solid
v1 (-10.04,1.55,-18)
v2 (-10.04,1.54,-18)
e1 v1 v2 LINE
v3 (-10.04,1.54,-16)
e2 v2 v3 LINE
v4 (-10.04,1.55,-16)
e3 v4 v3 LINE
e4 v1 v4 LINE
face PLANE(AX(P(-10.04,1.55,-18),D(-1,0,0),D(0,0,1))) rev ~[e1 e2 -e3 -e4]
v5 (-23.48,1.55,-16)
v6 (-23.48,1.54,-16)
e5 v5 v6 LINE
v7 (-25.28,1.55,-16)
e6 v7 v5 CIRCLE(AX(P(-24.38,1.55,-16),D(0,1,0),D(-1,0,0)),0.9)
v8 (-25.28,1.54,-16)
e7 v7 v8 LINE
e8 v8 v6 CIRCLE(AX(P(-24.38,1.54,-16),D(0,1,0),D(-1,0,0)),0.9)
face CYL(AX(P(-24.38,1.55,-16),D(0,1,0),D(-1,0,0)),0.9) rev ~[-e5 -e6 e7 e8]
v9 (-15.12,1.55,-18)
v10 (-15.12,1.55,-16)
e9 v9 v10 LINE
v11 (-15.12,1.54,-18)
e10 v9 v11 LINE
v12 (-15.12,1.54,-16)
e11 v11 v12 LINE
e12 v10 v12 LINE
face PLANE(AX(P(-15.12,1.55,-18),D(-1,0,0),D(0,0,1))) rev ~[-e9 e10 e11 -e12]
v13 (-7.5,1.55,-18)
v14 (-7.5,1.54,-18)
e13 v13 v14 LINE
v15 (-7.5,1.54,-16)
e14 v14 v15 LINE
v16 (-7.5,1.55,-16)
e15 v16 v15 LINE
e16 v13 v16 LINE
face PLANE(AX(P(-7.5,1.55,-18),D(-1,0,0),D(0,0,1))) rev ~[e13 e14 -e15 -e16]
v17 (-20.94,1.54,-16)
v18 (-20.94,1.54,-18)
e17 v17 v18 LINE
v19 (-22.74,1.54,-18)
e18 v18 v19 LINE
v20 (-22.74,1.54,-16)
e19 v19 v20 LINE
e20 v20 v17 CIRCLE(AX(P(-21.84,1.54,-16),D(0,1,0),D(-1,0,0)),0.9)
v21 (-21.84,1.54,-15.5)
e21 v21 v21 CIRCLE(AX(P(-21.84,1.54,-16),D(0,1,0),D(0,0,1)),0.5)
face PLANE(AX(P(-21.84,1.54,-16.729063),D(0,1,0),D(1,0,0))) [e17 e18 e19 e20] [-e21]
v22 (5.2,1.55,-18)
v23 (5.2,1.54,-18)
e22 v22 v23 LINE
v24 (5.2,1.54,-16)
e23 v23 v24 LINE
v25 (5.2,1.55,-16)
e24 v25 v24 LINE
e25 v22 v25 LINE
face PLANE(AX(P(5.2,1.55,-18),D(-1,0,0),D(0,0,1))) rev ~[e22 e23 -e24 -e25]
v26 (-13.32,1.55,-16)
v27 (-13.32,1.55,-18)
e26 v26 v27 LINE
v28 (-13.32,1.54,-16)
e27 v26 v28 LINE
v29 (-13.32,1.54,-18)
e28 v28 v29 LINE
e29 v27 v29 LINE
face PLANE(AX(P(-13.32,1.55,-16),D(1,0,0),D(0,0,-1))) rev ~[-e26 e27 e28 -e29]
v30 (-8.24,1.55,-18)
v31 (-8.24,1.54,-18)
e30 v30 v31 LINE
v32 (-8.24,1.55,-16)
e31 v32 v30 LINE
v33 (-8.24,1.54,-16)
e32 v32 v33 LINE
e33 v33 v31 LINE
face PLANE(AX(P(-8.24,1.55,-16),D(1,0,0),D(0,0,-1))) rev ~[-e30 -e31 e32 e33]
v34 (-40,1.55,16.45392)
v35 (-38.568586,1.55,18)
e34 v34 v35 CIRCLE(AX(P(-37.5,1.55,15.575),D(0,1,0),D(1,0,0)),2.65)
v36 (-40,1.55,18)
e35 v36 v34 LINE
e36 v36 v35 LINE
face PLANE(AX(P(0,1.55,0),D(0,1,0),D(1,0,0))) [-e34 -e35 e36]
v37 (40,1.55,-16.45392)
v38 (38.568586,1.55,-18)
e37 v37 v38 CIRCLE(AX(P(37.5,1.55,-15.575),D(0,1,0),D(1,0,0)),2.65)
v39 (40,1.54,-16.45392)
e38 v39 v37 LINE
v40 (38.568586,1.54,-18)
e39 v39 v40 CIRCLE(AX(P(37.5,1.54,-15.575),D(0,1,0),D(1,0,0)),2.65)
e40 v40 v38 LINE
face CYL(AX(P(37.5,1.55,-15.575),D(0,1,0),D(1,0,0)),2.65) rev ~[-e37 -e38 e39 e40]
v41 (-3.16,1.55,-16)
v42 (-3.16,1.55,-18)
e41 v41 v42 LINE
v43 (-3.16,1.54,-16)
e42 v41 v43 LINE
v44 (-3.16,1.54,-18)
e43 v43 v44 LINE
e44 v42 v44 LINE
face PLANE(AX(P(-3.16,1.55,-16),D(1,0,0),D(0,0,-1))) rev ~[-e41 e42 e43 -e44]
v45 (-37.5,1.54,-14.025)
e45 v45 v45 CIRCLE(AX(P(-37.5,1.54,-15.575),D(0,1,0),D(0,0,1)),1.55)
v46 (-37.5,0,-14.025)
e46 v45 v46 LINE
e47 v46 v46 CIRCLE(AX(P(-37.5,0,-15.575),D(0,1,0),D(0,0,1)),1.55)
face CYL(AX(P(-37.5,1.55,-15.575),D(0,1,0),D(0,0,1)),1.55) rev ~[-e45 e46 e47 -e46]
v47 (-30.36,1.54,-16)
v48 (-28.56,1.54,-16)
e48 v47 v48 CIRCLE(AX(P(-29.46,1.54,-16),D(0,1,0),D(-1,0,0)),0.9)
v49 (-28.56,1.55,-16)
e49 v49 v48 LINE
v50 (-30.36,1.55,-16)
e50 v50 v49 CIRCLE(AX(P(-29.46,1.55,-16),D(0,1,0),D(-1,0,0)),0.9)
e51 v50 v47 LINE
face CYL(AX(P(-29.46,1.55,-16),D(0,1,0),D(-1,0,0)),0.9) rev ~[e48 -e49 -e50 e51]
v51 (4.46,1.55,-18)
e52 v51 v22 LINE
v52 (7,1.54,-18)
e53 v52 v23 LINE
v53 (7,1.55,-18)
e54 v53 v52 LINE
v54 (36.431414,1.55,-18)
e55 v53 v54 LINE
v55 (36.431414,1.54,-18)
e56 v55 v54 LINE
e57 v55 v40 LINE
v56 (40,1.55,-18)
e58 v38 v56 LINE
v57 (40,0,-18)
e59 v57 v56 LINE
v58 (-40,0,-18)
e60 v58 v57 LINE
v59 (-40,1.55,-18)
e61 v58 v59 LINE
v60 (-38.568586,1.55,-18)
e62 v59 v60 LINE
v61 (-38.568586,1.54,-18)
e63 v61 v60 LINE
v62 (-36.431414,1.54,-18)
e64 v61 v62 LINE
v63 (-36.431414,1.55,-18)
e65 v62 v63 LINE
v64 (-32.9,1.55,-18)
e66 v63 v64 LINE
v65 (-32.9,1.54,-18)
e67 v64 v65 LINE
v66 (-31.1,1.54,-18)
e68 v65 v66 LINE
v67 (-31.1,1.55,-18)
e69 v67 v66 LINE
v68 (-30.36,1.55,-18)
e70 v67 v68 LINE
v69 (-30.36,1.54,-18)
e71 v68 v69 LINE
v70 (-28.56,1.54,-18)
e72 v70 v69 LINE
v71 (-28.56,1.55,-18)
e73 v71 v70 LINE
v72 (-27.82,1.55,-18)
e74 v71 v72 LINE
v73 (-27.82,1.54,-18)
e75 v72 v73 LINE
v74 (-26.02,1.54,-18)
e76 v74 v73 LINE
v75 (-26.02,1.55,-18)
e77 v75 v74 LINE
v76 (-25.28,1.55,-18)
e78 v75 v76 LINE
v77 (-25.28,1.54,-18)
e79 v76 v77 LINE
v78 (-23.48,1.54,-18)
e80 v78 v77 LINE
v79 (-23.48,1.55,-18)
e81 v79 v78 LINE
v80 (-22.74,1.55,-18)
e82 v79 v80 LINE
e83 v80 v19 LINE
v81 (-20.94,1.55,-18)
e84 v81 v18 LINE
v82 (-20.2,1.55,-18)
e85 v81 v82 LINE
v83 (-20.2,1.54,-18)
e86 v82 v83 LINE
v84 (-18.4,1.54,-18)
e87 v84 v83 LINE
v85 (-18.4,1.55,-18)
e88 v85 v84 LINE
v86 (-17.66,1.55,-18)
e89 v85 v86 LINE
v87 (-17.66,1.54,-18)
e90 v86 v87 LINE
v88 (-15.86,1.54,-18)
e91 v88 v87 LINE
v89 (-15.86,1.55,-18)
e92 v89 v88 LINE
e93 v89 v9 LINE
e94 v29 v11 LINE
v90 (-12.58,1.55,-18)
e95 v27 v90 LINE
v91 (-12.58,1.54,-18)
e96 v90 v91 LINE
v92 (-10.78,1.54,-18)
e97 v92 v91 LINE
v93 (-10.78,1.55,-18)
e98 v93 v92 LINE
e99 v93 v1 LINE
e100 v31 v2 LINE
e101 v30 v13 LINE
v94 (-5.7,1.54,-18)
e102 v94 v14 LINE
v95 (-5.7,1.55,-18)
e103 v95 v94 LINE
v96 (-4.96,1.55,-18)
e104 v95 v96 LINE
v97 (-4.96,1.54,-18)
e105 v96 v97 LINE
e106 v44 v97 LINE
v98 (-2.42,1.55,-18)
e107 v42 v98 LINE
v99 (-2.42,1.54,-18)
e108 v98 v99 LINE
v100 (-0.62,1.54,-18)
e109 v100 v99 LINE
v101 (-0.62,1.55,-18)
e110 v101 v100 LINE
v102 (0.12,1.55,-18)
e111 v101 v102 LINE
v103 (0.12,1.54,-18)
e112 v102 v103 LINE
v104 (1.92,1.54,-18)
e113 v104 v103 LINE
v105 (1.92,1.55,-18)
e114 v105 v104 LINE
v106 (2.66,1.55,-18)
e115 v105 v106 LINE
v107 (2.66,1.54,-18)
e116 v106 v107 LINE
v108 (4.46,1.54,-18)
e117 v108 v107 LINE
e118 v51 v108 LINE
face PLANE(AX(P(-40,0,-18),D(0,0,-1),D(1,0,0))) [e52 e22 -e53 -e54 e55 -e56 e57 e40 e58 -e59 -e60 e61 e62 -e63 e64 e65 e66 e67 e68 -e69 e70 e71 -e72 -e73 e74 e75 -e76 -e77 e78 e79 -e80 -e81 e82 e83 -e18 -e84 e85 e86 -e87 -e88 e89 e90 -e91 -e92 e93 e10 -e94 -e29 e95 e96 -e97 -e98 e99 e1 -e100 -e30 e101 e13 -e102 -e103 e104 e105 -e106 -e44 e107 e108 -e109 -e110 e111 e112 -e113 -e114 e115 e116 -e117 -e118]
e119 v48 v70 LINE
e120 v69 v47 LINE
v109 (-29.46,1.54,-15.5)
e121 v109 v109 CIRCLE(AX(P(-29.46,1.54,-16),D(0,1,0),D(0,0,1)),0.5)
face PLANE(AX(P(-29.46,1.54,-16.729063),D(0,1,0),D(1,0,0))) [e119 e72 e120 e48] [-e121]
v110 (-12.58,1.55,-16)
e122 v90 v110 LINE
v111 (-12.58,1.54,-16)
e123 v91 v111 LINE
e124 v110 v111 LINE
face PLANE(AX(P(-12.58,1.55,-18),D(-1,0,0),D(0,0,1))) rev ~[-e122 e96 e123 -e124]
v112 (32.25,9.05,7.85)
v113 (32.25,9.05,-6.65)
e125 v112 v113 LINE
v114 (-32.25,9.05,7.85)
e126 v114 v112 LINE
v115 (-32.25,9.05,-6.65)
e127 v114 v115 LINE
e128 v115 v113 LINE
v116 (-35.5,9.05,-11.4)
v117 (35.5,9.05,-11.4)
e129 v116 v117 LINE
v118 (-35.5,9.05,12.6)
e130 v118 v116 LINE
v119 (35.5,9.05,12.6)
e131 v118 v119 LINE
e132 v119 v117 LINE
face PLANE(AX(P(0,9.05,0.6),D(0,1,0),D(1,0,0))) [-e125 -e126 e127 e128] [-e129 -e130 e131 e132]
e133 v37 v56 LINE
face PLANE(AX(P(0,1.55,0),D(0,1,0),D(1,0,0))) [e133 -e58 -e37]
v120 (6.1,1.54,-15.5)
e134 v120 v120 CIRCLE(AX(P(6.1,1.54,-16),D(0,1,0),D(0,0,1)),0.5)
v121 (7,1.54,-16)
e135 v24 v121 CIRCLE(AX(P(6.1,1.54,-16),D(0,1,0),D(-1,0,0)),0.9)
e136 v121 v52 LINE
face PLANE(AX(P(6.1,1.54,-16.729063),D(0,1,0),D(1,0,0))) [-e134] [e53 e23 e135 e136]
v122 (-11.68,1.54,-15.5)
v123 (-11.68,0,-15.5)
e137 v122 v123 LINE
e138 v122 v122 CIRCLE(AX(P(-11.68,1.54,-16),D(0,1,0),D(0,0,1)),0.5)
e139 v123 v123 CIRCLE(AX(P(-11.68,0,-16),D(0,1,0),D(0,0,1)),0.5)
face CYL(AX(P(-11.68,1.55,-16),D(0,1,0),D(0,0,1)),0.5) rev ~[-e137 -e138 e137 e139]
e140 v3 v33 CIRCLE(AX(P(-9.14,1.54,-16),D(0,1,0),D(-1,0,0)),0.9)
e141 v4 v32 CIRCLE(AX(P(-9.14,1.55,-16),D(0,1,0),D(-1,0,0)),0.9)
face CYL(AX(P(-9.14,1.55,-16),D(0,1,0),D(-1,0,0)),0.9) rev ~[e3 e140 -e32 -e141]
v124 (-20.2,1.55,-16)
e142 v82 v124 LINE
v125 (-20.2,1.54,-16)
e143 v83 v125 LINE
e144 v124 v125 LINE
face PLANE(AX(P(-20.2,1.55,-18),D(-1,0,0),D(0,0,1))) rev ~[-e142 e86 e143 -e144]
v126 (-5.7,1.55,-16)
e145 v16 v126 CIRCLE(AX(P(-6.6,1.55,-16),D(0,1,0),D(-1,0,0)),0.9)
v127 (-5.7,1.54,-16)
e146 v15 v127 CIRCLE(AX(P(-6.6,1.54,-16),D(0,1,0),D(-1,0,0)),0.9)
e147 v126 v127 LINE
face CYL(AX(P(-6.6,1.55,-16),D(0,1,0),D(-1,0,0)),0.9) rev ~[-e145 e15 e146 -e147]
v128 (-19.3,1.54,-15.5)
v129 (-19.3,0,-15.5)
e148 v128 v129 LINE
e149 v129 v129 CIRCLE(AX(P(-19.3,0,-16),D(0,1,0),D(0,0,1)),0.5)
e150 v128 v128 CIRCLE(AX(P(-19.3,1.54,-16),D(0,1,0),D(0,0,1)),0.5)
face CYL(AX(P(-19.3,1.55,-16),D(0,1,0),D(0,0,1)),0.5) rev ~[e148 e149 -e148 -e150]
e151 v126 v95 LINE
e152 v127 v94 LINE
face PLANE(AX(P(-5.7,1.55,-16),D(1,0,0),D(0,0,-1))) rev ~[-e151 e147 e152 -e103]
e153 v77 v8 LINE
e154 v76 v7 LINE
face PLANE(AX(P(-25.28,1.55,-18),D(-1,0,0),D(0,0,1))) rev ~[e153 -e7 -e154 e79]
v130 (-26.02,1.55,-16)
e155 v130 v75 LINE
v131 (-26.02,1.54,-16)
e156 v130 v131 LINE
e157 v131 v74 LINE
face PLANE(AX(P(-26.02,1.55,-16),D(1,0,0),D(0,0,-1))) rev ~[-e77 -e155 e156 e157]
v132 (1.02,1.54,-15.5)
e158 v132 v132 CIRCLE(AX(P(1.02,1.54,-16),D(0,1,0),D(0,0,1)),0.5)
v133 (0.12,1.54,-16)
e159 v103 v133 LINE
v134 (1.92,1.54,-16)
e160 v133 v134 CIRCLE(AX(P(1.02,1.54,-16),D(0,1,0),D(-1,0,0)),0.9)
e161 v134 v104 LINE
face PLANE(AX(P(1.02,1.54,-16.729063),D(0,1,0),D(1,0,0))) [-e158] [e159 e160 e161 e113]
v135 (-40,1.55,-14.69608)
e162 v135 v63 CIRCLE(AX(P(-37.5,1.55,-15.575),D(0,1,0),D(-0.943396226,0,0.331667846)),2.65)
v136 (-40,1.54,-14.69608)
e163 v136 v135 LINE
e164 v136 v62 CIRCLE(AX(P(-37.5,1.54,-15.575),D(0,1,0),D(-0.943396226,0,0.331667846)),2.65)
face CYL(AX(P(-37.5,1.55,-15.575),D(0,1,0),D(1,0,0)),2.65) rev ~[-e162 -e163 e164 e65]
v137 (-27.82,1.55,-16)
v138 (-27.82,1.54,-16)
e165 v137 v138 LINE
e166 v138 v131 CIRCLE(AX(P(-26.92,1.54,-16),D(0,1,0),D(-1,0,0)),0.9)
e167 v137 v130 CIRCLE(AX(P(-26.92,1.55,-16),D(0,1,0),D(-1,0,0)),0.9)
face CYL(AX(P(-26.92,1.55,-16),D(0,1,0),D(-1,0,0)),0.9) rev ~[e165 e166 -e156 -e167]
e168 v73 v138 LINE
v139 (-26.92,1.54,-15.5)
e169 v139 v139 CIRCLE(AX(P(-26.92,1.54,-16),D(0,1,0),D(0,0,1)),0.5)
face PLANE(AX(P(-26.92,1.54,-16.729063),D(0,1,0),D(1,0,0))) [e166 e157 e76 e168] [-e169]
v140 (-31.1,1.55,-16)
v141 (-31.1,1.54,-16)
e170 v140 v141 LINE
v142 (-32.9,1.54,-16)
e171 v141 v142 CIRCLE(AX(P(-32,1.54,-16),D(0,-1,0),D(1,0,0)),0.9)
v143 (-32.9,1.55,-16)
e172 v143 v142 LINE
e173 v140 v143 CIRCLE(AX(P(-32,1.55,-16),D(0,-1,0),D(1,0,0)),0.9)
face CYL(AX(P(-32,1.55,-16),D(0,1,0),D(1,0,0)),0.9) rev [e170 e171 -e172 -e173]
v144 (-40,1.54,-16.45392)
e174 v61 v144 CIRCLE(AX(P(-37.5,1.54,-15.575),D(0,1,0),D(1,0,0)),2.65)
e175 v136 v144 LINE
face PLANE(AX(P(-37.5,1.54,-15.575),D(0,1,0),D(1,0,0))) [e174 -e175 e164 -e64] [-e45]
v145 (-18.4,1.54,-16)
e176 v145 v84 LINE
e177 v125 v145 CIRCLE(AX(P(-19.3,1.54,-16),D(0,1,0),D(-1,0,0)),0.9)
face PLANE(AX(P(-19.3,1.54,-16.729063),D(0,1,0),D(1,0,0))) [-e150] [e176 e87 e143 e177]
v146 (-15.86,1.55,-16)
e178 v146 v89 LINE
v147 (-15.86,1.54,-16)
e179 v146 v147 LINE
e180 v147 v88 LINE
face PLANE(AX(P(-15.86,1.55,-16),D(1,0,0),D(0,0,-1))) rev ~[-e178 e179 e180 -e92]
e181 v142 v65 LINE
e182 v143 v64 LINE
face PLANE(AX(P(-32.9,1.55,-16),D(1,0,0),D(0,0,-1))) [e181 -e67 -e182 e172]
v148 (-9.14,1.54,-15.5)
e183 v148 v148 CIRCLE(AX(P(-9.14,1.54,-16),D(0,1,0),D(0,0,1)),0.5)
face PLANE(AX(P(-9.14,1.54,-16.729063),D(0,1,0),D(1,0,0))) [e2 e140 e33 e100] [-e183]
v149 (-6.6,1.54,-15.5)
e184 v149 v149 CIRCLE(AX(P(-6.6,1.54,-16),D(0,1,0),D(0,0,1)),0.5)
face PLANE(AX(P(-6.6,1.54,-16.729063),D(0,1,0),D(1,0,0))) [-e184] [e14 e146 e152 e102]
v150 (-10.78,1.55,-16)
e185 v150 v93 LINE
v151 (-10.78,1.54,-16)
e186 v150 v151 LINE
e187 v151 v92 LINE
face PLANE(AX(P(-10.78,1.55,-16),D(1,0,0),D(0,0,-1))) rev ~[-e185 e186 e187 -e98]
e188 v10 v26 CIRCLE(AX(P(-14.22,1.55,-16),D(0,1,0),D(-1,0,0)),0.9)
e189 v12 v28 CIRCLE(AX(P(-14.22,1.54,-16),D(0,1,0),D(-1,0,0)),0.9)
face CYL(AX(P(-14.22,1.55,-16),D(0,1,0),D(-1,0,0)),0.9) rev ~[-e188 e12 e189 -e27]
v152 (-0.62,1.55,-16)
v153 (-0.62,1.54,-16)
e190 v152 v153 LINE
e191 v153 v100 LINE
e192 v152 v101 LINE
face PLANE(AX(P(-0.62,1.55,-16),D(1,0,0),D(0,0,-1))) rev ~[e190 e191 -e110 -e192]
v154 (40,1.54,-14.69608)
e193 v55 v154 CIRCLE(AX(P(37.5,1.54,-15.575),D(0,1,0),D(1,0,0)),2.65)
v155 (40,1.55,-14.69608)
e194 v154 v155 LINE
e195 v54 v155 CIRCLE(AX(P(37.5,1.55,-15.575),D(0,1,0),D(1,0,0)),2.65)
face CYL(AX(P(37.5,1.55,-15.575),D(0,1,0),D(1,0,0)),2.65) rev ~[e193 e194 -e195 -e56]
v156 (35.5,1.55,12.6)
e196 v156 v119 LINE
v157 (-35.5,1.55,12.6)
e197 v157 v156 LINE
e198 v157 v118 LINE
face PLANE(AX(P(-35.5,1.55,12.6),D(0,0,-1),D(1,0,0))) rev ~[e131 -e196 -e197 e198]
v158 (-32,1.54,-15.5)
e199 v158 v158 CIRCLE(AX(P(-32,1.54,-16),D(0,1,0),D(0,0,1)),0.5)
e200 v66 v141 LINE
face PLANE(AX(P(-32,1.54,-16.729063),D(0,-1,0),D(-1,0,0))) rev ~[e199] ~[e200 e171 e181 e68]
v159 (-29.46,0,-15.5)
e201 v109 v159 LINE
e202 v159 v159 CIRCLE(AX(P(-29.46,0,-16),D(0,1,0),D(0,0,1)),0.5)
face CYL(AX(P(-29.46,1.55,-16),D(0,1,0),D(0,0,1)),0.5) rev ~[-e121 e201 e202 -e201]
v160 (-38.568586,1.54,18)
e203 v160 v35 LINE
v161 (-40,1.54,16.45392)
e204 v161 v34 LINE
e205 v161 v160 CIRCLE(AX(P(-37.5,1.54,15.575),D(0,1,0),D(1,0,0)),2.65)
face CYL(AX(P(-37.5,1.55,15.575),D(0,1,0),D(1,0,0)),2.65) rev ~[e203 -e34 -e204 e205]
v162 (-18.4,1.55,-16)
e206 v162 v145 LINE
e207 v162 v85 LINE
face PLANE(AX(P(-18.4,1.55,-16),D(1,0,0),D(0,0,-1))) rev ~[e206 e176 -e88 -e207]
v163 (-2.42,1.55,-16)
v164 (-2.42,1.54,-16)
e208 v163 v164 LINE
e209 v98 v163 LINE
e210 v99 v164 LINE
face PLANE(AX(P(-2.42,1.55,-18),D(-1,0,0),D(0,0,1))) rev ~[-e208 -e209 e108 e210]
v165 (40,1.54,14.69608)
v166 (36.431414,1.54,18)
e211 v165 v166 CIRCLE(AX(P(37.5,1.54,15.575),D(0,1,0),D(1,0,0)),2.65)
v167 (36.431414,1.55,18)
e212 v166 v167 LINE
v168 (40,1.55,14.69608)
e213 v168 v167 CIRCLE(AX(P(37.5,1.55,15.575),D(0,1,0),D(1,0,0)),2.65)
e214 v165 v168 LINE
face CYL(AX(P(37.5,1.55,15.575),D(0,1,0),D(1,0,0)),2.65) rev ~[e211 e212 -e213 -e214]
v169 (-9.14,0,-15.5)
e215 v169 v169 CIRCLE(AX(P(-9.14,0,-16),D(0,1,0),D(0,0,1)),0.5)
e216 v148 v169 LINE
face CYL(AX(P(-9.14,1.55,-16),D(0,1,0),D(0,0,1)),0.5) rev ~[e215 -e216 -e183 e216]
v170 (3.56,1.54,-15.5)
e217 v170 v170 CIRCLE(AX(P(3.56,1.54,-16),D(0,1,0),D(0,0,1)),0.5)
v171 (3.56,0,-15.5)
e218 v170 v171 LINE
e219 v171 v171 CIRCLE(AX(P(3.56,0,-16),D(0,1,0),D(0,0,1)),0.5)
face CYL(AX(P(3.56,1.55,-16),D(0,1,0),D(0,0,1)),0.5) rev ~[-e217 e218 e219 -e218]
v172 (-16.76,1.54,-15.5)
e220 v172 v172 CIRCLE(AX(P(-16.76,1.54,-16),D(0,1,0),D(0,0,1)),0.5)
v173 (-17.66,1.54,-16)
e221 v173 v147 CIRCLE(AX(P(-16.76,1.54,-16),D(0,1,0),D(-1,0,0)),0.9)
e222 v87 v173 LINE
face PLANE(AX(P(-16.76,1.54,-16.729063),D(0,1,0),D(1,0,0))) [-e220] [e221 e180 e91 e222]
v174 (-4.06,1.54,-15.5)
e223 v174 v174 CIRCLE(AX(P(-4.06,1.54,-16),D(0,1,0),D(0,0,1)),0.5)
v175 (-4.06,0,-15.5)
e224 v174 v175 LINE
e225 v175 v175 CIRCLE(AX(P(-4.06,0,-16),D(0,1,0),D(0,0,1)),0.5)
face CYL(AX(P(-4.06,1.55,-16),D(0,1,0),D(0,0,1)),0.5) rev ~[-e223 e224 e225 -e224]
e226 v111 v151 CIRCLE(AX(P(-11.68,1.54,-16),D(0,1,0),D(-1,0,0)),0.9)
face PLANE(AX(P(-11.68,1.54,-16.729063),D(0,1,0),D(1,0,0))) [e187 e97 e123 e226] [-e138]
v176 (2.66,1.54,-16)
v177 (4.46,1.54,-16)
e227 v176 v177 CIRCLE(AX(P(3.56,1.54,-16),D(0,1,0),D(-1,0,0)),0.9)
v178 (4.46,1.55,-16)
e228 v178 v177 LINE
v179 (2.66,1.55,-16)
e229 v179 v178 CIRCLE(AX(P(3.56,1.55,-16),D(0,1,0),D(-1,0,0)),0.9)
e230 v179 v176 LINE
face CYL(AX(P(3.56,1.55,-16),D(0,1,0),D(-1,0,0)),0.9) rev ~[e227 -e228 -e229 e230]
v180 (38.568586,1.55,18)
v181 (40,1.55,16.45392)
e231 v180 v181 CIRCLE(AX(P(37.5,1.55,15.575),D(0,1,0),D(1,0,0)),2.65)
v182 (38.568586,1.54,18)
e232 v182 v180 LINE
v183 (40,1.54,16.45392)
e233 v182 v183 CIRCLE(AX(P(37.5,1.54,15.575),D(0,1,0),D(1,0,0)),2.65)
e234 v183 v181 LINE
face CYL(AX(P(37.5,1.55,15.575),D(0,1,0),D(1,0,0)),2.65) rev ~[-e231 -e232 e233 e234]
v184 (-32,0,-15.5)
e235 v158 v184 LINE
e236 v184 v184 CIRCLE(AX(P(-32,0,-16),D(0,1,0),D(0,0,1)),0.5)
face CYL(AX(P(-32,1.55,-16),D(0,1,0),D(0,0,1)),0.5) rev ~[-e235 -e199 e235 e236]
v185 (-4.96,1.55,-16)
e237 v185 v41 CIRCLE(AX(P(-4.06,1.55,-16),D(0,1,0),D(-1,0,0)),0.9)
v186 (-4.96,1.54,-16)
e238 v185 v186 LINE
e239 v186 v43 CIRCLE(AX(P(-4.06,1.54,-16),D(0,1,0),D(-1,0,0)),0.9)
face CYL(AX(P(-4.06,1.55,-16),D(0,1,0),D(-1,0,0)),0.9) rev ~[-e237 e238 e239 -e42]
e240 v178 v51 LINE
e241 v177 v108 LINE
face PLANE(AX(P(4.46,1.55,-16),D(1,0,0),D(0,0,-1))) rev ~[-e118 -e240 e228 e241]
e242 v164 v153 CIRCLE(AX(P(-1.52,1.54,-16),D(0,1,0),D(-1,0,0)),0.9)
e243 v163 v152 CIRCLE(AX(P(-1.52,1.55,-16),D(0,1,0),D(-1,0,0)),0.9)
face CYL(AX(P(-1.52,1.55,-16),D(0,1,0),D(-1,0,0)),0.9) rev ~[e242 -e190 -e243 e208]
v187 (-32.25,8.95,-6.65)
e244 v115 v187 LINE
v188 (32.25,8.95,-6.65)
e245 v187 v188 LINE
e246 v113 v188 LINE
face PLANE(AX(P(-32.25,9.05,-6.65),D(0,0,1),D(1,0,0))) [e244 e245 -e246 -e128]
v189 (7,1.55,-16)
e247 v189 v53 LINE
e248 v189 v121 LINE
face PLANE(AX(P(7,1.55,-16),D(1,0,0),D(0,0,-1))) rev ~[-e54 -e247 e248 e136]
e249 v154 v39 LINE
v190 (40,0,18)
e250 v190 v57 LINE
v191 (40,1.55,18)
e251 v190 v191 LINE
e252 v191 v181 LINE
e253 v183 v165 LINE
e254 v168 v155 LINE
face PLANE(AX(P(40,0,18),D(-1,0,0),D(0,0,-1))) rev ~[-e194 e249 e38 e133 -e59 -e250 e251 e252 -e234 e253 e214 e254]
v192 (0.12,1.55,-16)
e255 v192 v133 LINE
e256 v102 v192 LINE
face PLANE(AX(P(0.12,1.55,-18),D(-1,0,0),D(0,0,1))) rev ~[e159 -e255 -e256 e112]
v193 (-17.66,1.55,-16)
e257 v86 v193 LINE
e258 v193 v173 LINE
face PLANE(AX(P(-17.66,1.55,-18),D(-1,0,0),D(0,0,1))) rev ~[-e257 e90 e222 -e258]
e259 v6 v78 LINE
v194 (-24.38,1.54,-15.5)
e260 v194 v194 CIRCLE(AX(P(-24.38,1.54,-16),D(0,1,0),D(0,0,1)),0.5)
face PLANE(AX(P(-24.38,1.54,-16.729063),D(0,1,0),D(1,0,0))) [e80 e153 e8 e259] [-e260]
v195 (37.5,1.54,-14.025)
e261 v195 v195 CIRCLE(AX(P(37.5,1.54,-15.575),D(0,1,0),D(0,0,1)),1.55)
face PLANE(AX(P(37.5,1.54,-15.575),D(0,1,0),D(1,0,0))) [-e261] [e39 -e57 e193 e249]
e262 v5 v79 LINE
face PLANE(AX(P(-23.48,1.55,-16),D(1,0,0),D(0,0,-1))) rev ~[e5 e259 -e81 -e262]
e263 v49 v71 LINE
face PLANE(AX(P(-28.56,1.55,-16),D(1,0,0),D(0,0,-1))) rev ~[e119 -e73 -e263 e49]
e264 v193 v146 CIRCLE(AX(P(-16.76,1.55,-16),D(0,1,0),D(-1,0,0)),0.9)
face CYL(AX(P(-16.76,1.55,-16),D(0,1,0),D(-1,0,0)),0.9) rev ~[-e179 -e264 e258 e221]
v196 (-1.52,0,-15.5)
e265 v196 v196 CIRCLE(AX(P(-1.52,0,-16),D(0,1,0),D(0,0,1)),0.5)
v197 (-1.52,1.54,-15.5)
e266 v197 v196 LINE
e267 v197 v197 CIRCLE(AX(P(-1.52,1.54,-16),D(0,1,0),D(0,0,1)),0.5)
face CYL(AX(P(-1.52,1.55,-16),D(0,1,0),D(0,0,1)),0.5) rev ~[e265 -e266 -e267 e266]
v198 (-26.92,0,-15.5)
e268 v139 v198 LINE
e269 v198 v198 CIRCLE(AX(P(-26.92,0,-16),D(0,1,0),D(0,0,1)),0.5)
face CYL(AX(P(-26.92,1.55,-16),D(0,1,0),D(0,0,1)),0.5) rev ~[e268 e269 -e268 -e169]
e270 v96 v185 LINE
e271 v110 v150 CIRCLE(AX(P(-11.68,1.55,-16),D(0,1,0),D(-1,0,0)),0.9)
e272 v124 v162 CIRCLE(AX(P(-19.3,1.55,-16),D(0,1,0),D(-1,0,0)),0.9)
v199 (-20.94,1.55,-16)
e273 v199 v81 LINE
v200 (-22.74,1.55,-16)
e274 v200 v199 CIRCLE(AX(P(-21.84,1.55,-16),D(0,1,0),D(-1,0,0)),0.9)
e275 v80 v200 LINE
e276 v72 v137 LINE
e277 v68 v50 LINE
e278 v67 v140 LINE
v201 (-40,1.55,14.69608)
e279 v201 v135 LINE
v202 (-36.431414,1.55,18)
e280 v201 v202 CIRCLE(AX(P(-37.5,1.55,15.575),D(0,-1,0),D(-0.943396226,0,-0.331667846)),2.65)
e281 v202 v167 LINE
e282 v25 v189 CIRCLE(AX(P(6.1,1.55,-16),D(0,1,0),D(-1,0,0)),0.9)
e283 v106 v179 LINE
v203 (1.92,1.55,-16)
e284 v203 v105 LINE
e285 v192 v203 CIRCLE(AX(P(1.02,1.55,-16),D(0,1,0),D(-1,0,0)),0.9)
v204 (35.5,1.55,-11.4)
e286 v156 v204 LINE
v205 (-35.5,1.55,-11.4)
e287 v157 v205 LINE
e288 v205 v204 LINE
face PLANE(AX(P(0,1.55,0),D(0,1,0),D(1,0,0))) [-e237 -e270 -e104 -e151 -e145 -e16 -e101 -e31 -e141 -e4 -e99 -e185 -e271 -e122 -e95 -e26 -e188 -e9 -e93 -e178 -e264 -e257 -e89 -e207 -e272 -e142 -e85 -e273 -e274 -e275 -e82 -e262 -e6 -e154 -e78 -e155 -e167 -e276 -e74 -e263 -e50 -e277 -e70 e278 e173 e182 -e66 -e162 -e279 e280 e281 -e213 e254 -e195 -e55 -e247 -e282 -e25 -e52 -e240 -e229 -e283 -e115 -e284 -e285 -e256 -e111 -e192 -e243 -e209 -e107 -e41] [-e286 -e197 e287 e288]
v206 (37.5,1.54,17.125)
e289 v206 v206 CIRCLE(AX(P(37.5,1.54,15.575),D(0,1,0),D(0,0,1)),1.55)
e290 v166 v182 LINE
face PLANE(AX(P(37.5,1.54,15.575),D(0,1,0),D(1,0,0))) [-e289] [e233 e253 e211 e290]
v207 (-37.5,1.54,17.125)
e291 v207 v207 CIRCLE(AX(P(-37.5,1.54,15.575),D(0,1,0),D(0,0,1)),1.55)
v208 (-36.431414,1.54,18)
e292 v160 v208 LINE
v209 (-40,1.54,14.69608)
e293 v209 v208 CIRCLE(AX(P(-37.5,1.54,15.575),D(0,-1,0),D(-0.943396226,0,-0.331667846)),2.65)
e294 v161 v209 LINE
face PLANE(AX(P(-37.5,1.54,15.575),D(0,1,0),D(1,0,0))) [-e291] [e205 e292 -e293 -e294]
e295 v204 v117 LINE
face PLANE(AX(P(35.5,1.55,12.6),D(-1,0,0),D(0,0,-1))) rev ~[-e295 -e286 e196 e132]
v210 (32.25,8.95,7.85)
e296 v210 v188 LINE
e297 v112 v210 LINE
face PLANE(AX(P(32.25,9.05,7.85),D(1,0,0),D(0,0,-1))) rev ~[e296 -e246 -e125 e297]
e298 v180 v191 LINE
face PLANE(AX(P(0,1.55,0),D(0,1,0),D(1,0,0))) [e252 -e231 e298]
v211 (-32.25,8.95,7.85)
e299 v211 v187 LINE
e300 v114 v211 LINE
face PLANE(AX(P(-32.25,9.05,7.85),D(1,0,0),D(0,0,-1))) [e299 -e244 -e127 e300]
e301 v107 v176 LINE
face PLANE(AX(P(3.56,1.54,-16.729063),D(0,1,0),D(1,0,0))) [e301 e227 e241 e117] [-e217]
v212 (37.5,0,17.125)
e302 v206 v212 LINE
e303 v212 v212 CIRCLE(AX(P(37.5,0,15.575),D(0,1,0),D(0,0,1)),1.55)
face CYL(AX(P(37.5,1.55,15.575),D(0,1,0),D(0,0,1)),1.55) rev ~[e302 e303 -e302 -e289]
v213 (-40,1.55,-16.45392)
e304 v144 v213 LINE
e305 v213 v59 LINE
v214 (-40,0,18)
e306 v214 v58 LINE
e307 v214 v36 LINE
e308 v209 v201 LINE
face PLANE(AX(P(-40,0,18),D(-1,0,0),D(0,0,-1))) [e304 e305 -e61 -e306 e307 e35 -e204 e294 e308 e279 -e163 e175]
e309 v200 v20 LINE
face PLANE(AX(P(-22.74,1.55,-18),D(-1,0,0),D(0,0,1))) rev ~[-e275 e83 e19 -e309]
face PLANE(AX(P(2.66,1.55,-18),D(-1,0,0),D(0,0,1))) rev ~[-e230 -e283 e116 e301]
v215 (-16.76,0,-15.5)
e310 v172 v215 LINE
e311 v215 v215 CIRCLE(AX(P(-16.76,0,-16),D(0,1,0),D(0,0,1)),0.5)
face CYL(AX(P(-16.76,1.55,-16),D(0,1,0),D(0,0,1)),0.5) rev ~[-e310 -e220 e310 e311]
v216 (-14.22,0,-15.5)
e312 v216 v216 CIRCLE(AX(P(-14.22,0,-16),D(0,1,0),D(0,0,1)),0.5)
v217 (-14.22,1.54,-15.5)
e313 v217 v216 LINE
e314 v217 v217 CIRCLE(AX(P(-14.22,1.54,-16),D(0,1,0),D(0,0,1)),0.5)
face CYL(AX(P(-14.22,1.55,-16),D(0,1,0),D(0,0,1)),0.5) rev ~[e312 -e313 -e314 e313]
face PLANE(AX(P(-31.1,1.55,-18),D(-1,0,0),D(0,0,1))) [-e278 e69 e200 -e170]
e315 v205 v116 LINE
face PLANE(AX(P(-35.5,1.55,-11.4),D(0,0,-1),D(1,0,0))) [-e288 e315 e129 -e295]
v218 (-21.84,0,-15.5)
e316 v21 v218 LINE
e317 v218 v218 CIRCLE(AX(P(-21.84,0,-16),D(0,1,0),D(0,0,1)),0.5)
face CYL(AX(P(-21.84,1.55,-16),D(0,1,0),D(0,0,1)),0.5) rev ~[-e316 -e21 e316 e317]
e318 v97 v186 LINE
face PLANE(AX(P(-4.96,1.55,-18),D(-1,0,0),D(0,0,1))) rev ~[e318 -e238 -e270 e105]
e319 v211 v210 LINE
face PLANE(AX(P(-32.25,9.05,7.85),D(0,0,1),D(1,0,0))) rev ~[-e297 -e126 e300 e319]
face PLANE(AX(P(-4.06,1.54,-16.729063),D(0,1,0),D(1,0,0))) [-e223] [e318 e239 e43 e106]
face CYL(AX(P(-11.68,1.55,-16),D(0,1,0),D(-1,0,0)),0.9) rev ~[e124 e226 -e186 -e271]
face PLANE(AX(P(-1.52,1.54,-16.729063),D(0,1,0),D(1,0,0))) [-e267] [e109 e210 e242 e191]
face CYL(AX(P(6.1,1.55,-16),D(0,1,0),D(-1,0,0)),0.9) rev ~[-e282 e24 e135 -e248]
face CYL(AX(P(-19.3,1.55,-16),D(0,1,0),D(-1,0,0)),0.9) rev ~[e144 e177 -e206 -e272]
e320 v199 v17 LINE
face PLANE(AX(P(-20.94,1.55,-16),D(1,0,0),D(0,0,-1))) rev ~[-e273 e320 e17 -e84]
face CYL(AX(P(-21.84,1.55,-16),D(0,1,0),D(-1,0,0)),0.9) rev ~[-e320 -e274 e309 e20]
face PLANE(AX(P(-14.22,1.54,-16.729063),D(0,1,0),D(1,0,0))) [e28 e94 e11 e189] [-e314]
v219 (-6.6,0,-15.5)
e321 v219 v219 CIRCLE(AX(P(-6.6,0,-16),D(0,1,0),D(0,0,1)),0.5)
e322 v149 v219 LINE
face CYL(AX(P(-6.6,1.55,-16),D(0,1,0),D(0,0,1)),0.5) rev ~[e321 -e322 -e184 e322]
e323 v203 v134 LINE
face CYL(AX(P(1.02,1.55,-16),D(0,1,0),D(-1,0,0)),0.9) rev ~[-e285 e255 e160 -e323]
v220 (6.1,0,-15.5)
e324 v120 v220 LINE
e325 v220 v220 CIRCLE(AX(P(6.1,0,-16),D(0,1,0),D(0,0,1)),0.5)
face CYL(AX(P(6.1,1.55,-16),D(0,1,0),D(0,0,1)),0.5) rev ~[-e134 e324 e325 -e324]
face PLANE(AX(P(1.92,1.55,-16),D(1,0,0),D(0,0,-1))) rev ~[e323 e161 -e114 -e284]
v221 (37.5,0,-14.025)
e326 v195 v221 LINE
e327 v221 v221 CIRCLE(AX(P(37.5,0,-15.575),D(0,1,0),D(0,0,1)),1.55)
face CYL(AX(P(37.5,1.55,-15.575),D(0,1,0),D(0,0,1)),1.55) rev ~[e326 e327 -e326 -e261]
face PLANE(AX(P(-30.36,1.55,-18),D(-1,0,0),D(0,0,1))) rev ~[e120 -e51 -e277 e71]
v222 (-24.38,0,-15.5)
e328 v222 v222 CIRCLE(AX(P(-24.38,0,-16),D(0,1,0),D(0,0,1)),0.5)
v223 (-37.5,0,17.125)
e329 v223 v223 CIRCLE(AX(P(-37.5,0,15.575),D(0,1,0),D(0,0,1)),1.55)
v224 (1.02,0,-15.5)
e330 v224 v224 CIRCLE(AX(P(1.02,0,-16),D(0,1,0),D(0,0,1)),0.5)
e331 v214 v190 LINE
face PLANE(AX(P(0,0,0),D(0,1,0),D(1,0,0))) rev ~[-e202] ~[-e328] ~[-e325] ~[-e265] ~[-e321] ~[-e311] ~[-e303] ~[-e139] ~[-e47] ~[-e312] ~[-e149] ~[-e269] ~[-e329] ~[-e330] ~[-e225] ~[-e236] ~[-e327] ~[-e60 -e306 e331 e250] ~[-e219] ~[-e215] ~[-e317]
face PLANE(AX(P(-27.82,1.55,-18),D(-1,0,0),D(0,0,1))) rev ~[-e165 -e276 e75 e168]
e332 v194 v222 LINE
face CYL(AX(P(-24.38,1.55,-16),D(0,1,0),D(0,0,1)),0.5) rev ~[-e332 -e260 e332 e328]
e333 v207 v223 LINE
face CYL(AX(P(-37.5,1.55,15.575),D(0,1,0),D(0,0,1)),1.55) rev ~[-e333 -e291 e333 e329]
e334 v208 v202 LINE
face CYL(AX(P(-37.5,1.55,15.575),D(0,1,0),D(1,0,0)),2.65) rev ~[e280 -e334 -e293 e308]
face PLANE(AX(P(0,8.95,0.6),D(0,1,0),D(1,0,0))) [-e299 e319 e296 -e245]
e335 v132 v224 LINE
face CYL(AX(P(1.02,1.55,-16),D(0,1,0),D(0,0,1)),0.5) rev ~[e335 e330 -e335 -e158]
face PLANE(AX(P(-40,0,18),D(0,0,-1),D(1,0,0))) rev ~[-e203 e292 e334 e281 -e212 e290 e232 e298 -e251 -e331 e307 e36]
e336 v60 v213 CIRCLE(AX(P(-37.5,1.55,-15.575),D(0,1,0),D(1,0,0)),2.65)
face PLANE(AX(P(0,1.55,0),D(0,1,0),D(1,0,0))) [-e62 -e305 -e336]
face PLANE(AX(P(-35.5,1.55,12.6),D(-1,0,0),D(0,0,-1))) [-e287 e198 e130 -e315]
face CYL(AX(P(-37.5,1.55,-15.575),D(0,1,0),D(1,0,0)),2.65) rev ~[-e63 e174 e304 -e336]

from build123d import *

# Parameters (mm, degrees)
SKETCH1_W            = 80
SKETCH1_H            = 36
PCB_DEPTH            = 1.55
SKETCH2_R            = 1.55
MOUNTINGHOLES_DEPTH  = 44.890801998
SKETCH3_R            = 2.65
PADS_DEPTH           = 0.01
SKETCH4_R            = 0.5
CONNECTERHOLES_DEPTH = 44.890801998
SKETCH5_W            = 71
SKETCH5_H            = 24
PANELBODY_DEPTH      = 7.5
SKETCH6_W            = 64.5
SKETCH6_H            = 14.5
SCREEN_DEPTH         = 0.1


with BuildPart() as part:
    # Sketch1 → PCB (new body)
    with BuildSketch(Plane(origin=(0, 0, 0), x_dir=(1, 0, 0), z_dir=(0, 1, 0))):
        Rectangle(SKETCH1_W, SKETCH1_H)
    extrude(amount=PCB_DEPTH)

    # Sketch2 → MountingHoles (cut, through all)
    with BuildSketch(Plane(origin=(0, 1.55, 0), x_dir=(1, 0, 0), z_dir=(0, 1, 0))):
        with Locations(Location((-37.5, 15.575, 0), (0, 0, 270))):
            Circle(SKETCH2_R)
        with Locations(Location((37.5, 15.575, 0), (0, 0, 270))):
            Circle(SKETCH2_R)
        with Locations(Location((37.5, -15.575, 0), (0, 0, 270))):
            Circle(SKETCH2_R)
        with Locations(Location((-37.5, -15.575, 0), (0, 0, 270))):
            Circle(SKETCH2_R)
    extrude(amount=-MOUNTINGHOLES_DEPTH, mode=Mode.SUBTRACT)

    # Sketch3 → Pads (cut)
    with BuildSketch(Plane(origin=(0, 1.55, 0), x_dir=(1, 0, 0), z_dir=(0, 1, 0))):
        with Locations((-37.5, 15.575)):
            Circle(SKETCH3_R)
        with Locations((37.5, 15.575)):
            Circle(SKETCH3_R)
        with Locations((37.5, -15.575)):
            Circle(SKETCH3_R)
        with Locations((-37.5, -15.575)):
            Circle(SKETCH3_R)
        with BuildLine():
            Line((-32.9, 18), (-31.1, 18))
            Line((-31.1, 18), (-31.1, 16))
            ThreePointArc((-31.1, 16), (-32, 15.1), (-32.9, 16))
            Line((-32.9, 16), (-32.9, 18))
        make_face()
        with BuildLine():
            Line((-30.36, 18), (-30.36, 16))
            ThreePointArc((-30.36, 16), (-29.46, 15.1), (-28.56, 16))
            Line((-28.56, 16), (-28.56, 18))
            Line((-28.56, 18), (-30.36, 18))
        make_face()
        with BuildLine():
            Line((-27.82, 18), (-27.82, 16))
            ThreePointArc((-27.82, 16), (-26.92, 15.1), (-26.02, 16))
            Line((-26.02, 16), (-26.02, 18))
            Line((-26.02, 18), (-27.82, 18))
        make_face()
        with BuildLine():
            Line((-25.28, 18), (-25.28, 16))
            ThreePointArc((-25.28, 16), (-24.38, 15.1), (-23.48, 16))
            Line((-23.48, 16), (-23.48, 18))
            Line((-23.48, 18), (-25.28, 18))
        make_face()
        with BuildLine():
            Line((-22.74, 18), (-22.74, 16))
            ThreePointArc((-22.74, 16), (-21.84, 15.1), (-20.94, 16))
            Line((-20.94, 16), (-20.94, 18))
            Line((-20.94, 18), (-22.74, 18))
        make_face()
        with BuildLine():
            Line((-20.2, 18), (-20.2, 16))
            ThreePointArc((-20.2, 16), (-19.3, 15.1), (-18.4, 16))
            Line((-18.4, 16), (-18.4, 18))
            Line((-18.4, 18), (-20.2, 18))
        make_face()
        with BuildLine():
            Line((-17.66, 18), (-17.66, 16))
            ThreePointArc((-17.66, 16), (-16.76, 15.1), (-15.86, 16))
            Line((-15.86, 16), (-15.86, 18))
            Line((-15.86, 18), (-17.66, 18))
        make_face()
        with BuildLine():
            Line((-15.12, 18), (-15.12, 16))
            ThreePointArc((-15.12, 16), (-14.22, 15.1), (-13.32, 16))
            Line((-13.32, 16), (-13.32, 18))
            Line((-13.32, 18), (-15.12, 18))
        make_face()
        with BuildLine():
            Line((-12.58, 18), (-12.58, 16))
            ThreePointArc((-12.58, 16), (-11.68, 15.1), (-10.78, 16))
            Line((-10.78, 16), (-10.78, 18))
            Line((-10.78, 18), (-12.58, 18))
        make_face()
        with BuildLine():
            Line((-10.04, 18), (-10.04, 16))
            ThreePointArc((-10.04, 16), (-9.14, 15.1), (-8.24, 16))
            Line((-8.24, 16), (-8.24, 18))
            Line((-8.24, 18), (-10.04, 18))
        make_face()
        with BuildLine():
            Line((-7.5, 18), (-7.5, 16))
            ThreePointArc((-7.5, 16), (-6.6, 15.1), (-5.7, 16))
            Line((-5.7, 16), (-5.7, 18))
            Line((-5.7, 18), (-7.5, 18))
        make_face()
        with BuildLine():
            Line((-4.96, 18), (-4.96, 16))
            ThreePointArc((-4.96, 16), (-4.06, 15.1), (-3.16, 16))
            Line((-3.16, 16), (-3.16, 18))
            Line((-3.16, 18), (-4.96, 18))
        make_face()
        with BuildLine():
            Line((-2.42, 18), (-2.42, 16))
            ThreePointArc((-2.42, 16), (-1.52, 15.1), (-0.62, 16))
            Line((-0.62, 16), (-0.62, 18))
            Line((-0.62, 18), (-2.42, 18))
        make_face()
        with BuildLine():
            Line((0.12, 18), (0.12, 16))
            ThreePointArc((0.12, 16), (1.02, 15.1), (1.92, 16))
            Line((1.92, 16), (1.92, 18))
            Line((1.92, 18), (0.12, 18))
        make_face()
        with BuildLine():
            Line((2.66, 18), (2.66, 16))
            ThreePointArc((2.66, 16), (3.56, 15.1), (4.46, 16))
            Line((4.46, 16), (4.46, 18))
            Line((4.46, 18), (2.66, 18))
        make_face()
        with BuildLine():
            Line((5.2, 18), (5.2, 16))
            ThreePointArc((5.2, 16), (6.1, 15.1), (7, 16))
            Line((7, 16), (7, 18))
            Line((7, 18), (5.2, 18))
        make_face()
    extrude(amount=-PADS_DEPTH, mode=Mode.SUBTRACT)

    # Sketch4 → ConnecterHoles (cut, through all)
    with BuildSketch(Plane(origin=(0, 1.55, 0), x_dir=(1, 0, 0), z_dir=(0, 1, 0))):
        with Locations(Location((-32, 16, 0), (0, 0, 270))):
            Circle(SKETCH4_R)
        with Locations(Location((-29.46, 16, 0), (0, 0, 270))):
            Circle(SKETCH4_R)
        with Locations(Location((-26.92, 16, 0), (0, 0, 270))):
            Circle(SKETCH4_R)
        with Locations(Location((-24.38, 16, 0), (0, 0, 270))):
            Circle(SKETCH4_R)
        with Locations(Location((-21.84, 16, 0), (0, 0, 270))):
            Circle(SKETCH4_R)
        with Locations(Location((-19.3, 16, 0), (0, 0, 270))):
            Circle(SKETCH4_R)
        with Locations(Location((-16.76, 16, 0), (0, 0, 270))):
            Circle(SKETCH4_R)
        with Locations(Location((-14.22, 16, 0), (0, 0, 270))):
            Circle(SKETCH4_R)
        with Locations(Location((-11.68, 16, 0), (0, 0, 270))):
            Circle(SKETCH4_R)
        with Locations(Location((-9.14, 16, 0), (0, 0, 270))):
            Circle(SKETCH4_R)
        with Locations(Location((-6.6, 16, 0), (0, 0, 270))):
            Circle(SKETCH4_R)
        with Locations(Location((-4.06, 16, 0), (0, 0, 270))):
            Circle(SKETCH4_R)
        with Locations(Location((-1.52, 16, 0), (0, 0, 270))):
            Circle(SKETCH4_R)
        with Locations(Location((1.02, 16, 0), (0, 0, 270))):
            Circle(SKETCH4_R)
        with Locations(Location((3.56, 16, 0), (0, 0, 270))):
            Circle(SKETCH4_R)
        with Locations(Location((6.1, 16, 0), (0, 0, 270))):
            Circle(SKETCH4_R)
    extrude(amount=-CONNECTERHOLES_DEPTH, mode=Mode.SUBTRACT)

    # Sketch5 → PanelBody (add)
    with BuildSketch(Plane(origin=(0, 1.55, 0), x_dir=(1, 0, 0), z_dir=(0, 1, 0))):
        with Locations((0, -0.6)):
            Rectangle(SKETCH5_W, SKETCH5_H)
    extrude(amount=PANELBODY_DEPTH)

    # Sketch6 → Screen (cut)
    with BuildSketch(Plane(origin=(0, 9.05, 0), x_dir=(1, 0, 0), z_dir=(0, 1, 0))):
        with Locations((0, -0.6)):
            Rectangle(SKETCH6_W, SKETCH6_H)
    extrude(amount=-SCREEN_DEPTH, mode=Mode.SUBTRACT)


solid = part.part
